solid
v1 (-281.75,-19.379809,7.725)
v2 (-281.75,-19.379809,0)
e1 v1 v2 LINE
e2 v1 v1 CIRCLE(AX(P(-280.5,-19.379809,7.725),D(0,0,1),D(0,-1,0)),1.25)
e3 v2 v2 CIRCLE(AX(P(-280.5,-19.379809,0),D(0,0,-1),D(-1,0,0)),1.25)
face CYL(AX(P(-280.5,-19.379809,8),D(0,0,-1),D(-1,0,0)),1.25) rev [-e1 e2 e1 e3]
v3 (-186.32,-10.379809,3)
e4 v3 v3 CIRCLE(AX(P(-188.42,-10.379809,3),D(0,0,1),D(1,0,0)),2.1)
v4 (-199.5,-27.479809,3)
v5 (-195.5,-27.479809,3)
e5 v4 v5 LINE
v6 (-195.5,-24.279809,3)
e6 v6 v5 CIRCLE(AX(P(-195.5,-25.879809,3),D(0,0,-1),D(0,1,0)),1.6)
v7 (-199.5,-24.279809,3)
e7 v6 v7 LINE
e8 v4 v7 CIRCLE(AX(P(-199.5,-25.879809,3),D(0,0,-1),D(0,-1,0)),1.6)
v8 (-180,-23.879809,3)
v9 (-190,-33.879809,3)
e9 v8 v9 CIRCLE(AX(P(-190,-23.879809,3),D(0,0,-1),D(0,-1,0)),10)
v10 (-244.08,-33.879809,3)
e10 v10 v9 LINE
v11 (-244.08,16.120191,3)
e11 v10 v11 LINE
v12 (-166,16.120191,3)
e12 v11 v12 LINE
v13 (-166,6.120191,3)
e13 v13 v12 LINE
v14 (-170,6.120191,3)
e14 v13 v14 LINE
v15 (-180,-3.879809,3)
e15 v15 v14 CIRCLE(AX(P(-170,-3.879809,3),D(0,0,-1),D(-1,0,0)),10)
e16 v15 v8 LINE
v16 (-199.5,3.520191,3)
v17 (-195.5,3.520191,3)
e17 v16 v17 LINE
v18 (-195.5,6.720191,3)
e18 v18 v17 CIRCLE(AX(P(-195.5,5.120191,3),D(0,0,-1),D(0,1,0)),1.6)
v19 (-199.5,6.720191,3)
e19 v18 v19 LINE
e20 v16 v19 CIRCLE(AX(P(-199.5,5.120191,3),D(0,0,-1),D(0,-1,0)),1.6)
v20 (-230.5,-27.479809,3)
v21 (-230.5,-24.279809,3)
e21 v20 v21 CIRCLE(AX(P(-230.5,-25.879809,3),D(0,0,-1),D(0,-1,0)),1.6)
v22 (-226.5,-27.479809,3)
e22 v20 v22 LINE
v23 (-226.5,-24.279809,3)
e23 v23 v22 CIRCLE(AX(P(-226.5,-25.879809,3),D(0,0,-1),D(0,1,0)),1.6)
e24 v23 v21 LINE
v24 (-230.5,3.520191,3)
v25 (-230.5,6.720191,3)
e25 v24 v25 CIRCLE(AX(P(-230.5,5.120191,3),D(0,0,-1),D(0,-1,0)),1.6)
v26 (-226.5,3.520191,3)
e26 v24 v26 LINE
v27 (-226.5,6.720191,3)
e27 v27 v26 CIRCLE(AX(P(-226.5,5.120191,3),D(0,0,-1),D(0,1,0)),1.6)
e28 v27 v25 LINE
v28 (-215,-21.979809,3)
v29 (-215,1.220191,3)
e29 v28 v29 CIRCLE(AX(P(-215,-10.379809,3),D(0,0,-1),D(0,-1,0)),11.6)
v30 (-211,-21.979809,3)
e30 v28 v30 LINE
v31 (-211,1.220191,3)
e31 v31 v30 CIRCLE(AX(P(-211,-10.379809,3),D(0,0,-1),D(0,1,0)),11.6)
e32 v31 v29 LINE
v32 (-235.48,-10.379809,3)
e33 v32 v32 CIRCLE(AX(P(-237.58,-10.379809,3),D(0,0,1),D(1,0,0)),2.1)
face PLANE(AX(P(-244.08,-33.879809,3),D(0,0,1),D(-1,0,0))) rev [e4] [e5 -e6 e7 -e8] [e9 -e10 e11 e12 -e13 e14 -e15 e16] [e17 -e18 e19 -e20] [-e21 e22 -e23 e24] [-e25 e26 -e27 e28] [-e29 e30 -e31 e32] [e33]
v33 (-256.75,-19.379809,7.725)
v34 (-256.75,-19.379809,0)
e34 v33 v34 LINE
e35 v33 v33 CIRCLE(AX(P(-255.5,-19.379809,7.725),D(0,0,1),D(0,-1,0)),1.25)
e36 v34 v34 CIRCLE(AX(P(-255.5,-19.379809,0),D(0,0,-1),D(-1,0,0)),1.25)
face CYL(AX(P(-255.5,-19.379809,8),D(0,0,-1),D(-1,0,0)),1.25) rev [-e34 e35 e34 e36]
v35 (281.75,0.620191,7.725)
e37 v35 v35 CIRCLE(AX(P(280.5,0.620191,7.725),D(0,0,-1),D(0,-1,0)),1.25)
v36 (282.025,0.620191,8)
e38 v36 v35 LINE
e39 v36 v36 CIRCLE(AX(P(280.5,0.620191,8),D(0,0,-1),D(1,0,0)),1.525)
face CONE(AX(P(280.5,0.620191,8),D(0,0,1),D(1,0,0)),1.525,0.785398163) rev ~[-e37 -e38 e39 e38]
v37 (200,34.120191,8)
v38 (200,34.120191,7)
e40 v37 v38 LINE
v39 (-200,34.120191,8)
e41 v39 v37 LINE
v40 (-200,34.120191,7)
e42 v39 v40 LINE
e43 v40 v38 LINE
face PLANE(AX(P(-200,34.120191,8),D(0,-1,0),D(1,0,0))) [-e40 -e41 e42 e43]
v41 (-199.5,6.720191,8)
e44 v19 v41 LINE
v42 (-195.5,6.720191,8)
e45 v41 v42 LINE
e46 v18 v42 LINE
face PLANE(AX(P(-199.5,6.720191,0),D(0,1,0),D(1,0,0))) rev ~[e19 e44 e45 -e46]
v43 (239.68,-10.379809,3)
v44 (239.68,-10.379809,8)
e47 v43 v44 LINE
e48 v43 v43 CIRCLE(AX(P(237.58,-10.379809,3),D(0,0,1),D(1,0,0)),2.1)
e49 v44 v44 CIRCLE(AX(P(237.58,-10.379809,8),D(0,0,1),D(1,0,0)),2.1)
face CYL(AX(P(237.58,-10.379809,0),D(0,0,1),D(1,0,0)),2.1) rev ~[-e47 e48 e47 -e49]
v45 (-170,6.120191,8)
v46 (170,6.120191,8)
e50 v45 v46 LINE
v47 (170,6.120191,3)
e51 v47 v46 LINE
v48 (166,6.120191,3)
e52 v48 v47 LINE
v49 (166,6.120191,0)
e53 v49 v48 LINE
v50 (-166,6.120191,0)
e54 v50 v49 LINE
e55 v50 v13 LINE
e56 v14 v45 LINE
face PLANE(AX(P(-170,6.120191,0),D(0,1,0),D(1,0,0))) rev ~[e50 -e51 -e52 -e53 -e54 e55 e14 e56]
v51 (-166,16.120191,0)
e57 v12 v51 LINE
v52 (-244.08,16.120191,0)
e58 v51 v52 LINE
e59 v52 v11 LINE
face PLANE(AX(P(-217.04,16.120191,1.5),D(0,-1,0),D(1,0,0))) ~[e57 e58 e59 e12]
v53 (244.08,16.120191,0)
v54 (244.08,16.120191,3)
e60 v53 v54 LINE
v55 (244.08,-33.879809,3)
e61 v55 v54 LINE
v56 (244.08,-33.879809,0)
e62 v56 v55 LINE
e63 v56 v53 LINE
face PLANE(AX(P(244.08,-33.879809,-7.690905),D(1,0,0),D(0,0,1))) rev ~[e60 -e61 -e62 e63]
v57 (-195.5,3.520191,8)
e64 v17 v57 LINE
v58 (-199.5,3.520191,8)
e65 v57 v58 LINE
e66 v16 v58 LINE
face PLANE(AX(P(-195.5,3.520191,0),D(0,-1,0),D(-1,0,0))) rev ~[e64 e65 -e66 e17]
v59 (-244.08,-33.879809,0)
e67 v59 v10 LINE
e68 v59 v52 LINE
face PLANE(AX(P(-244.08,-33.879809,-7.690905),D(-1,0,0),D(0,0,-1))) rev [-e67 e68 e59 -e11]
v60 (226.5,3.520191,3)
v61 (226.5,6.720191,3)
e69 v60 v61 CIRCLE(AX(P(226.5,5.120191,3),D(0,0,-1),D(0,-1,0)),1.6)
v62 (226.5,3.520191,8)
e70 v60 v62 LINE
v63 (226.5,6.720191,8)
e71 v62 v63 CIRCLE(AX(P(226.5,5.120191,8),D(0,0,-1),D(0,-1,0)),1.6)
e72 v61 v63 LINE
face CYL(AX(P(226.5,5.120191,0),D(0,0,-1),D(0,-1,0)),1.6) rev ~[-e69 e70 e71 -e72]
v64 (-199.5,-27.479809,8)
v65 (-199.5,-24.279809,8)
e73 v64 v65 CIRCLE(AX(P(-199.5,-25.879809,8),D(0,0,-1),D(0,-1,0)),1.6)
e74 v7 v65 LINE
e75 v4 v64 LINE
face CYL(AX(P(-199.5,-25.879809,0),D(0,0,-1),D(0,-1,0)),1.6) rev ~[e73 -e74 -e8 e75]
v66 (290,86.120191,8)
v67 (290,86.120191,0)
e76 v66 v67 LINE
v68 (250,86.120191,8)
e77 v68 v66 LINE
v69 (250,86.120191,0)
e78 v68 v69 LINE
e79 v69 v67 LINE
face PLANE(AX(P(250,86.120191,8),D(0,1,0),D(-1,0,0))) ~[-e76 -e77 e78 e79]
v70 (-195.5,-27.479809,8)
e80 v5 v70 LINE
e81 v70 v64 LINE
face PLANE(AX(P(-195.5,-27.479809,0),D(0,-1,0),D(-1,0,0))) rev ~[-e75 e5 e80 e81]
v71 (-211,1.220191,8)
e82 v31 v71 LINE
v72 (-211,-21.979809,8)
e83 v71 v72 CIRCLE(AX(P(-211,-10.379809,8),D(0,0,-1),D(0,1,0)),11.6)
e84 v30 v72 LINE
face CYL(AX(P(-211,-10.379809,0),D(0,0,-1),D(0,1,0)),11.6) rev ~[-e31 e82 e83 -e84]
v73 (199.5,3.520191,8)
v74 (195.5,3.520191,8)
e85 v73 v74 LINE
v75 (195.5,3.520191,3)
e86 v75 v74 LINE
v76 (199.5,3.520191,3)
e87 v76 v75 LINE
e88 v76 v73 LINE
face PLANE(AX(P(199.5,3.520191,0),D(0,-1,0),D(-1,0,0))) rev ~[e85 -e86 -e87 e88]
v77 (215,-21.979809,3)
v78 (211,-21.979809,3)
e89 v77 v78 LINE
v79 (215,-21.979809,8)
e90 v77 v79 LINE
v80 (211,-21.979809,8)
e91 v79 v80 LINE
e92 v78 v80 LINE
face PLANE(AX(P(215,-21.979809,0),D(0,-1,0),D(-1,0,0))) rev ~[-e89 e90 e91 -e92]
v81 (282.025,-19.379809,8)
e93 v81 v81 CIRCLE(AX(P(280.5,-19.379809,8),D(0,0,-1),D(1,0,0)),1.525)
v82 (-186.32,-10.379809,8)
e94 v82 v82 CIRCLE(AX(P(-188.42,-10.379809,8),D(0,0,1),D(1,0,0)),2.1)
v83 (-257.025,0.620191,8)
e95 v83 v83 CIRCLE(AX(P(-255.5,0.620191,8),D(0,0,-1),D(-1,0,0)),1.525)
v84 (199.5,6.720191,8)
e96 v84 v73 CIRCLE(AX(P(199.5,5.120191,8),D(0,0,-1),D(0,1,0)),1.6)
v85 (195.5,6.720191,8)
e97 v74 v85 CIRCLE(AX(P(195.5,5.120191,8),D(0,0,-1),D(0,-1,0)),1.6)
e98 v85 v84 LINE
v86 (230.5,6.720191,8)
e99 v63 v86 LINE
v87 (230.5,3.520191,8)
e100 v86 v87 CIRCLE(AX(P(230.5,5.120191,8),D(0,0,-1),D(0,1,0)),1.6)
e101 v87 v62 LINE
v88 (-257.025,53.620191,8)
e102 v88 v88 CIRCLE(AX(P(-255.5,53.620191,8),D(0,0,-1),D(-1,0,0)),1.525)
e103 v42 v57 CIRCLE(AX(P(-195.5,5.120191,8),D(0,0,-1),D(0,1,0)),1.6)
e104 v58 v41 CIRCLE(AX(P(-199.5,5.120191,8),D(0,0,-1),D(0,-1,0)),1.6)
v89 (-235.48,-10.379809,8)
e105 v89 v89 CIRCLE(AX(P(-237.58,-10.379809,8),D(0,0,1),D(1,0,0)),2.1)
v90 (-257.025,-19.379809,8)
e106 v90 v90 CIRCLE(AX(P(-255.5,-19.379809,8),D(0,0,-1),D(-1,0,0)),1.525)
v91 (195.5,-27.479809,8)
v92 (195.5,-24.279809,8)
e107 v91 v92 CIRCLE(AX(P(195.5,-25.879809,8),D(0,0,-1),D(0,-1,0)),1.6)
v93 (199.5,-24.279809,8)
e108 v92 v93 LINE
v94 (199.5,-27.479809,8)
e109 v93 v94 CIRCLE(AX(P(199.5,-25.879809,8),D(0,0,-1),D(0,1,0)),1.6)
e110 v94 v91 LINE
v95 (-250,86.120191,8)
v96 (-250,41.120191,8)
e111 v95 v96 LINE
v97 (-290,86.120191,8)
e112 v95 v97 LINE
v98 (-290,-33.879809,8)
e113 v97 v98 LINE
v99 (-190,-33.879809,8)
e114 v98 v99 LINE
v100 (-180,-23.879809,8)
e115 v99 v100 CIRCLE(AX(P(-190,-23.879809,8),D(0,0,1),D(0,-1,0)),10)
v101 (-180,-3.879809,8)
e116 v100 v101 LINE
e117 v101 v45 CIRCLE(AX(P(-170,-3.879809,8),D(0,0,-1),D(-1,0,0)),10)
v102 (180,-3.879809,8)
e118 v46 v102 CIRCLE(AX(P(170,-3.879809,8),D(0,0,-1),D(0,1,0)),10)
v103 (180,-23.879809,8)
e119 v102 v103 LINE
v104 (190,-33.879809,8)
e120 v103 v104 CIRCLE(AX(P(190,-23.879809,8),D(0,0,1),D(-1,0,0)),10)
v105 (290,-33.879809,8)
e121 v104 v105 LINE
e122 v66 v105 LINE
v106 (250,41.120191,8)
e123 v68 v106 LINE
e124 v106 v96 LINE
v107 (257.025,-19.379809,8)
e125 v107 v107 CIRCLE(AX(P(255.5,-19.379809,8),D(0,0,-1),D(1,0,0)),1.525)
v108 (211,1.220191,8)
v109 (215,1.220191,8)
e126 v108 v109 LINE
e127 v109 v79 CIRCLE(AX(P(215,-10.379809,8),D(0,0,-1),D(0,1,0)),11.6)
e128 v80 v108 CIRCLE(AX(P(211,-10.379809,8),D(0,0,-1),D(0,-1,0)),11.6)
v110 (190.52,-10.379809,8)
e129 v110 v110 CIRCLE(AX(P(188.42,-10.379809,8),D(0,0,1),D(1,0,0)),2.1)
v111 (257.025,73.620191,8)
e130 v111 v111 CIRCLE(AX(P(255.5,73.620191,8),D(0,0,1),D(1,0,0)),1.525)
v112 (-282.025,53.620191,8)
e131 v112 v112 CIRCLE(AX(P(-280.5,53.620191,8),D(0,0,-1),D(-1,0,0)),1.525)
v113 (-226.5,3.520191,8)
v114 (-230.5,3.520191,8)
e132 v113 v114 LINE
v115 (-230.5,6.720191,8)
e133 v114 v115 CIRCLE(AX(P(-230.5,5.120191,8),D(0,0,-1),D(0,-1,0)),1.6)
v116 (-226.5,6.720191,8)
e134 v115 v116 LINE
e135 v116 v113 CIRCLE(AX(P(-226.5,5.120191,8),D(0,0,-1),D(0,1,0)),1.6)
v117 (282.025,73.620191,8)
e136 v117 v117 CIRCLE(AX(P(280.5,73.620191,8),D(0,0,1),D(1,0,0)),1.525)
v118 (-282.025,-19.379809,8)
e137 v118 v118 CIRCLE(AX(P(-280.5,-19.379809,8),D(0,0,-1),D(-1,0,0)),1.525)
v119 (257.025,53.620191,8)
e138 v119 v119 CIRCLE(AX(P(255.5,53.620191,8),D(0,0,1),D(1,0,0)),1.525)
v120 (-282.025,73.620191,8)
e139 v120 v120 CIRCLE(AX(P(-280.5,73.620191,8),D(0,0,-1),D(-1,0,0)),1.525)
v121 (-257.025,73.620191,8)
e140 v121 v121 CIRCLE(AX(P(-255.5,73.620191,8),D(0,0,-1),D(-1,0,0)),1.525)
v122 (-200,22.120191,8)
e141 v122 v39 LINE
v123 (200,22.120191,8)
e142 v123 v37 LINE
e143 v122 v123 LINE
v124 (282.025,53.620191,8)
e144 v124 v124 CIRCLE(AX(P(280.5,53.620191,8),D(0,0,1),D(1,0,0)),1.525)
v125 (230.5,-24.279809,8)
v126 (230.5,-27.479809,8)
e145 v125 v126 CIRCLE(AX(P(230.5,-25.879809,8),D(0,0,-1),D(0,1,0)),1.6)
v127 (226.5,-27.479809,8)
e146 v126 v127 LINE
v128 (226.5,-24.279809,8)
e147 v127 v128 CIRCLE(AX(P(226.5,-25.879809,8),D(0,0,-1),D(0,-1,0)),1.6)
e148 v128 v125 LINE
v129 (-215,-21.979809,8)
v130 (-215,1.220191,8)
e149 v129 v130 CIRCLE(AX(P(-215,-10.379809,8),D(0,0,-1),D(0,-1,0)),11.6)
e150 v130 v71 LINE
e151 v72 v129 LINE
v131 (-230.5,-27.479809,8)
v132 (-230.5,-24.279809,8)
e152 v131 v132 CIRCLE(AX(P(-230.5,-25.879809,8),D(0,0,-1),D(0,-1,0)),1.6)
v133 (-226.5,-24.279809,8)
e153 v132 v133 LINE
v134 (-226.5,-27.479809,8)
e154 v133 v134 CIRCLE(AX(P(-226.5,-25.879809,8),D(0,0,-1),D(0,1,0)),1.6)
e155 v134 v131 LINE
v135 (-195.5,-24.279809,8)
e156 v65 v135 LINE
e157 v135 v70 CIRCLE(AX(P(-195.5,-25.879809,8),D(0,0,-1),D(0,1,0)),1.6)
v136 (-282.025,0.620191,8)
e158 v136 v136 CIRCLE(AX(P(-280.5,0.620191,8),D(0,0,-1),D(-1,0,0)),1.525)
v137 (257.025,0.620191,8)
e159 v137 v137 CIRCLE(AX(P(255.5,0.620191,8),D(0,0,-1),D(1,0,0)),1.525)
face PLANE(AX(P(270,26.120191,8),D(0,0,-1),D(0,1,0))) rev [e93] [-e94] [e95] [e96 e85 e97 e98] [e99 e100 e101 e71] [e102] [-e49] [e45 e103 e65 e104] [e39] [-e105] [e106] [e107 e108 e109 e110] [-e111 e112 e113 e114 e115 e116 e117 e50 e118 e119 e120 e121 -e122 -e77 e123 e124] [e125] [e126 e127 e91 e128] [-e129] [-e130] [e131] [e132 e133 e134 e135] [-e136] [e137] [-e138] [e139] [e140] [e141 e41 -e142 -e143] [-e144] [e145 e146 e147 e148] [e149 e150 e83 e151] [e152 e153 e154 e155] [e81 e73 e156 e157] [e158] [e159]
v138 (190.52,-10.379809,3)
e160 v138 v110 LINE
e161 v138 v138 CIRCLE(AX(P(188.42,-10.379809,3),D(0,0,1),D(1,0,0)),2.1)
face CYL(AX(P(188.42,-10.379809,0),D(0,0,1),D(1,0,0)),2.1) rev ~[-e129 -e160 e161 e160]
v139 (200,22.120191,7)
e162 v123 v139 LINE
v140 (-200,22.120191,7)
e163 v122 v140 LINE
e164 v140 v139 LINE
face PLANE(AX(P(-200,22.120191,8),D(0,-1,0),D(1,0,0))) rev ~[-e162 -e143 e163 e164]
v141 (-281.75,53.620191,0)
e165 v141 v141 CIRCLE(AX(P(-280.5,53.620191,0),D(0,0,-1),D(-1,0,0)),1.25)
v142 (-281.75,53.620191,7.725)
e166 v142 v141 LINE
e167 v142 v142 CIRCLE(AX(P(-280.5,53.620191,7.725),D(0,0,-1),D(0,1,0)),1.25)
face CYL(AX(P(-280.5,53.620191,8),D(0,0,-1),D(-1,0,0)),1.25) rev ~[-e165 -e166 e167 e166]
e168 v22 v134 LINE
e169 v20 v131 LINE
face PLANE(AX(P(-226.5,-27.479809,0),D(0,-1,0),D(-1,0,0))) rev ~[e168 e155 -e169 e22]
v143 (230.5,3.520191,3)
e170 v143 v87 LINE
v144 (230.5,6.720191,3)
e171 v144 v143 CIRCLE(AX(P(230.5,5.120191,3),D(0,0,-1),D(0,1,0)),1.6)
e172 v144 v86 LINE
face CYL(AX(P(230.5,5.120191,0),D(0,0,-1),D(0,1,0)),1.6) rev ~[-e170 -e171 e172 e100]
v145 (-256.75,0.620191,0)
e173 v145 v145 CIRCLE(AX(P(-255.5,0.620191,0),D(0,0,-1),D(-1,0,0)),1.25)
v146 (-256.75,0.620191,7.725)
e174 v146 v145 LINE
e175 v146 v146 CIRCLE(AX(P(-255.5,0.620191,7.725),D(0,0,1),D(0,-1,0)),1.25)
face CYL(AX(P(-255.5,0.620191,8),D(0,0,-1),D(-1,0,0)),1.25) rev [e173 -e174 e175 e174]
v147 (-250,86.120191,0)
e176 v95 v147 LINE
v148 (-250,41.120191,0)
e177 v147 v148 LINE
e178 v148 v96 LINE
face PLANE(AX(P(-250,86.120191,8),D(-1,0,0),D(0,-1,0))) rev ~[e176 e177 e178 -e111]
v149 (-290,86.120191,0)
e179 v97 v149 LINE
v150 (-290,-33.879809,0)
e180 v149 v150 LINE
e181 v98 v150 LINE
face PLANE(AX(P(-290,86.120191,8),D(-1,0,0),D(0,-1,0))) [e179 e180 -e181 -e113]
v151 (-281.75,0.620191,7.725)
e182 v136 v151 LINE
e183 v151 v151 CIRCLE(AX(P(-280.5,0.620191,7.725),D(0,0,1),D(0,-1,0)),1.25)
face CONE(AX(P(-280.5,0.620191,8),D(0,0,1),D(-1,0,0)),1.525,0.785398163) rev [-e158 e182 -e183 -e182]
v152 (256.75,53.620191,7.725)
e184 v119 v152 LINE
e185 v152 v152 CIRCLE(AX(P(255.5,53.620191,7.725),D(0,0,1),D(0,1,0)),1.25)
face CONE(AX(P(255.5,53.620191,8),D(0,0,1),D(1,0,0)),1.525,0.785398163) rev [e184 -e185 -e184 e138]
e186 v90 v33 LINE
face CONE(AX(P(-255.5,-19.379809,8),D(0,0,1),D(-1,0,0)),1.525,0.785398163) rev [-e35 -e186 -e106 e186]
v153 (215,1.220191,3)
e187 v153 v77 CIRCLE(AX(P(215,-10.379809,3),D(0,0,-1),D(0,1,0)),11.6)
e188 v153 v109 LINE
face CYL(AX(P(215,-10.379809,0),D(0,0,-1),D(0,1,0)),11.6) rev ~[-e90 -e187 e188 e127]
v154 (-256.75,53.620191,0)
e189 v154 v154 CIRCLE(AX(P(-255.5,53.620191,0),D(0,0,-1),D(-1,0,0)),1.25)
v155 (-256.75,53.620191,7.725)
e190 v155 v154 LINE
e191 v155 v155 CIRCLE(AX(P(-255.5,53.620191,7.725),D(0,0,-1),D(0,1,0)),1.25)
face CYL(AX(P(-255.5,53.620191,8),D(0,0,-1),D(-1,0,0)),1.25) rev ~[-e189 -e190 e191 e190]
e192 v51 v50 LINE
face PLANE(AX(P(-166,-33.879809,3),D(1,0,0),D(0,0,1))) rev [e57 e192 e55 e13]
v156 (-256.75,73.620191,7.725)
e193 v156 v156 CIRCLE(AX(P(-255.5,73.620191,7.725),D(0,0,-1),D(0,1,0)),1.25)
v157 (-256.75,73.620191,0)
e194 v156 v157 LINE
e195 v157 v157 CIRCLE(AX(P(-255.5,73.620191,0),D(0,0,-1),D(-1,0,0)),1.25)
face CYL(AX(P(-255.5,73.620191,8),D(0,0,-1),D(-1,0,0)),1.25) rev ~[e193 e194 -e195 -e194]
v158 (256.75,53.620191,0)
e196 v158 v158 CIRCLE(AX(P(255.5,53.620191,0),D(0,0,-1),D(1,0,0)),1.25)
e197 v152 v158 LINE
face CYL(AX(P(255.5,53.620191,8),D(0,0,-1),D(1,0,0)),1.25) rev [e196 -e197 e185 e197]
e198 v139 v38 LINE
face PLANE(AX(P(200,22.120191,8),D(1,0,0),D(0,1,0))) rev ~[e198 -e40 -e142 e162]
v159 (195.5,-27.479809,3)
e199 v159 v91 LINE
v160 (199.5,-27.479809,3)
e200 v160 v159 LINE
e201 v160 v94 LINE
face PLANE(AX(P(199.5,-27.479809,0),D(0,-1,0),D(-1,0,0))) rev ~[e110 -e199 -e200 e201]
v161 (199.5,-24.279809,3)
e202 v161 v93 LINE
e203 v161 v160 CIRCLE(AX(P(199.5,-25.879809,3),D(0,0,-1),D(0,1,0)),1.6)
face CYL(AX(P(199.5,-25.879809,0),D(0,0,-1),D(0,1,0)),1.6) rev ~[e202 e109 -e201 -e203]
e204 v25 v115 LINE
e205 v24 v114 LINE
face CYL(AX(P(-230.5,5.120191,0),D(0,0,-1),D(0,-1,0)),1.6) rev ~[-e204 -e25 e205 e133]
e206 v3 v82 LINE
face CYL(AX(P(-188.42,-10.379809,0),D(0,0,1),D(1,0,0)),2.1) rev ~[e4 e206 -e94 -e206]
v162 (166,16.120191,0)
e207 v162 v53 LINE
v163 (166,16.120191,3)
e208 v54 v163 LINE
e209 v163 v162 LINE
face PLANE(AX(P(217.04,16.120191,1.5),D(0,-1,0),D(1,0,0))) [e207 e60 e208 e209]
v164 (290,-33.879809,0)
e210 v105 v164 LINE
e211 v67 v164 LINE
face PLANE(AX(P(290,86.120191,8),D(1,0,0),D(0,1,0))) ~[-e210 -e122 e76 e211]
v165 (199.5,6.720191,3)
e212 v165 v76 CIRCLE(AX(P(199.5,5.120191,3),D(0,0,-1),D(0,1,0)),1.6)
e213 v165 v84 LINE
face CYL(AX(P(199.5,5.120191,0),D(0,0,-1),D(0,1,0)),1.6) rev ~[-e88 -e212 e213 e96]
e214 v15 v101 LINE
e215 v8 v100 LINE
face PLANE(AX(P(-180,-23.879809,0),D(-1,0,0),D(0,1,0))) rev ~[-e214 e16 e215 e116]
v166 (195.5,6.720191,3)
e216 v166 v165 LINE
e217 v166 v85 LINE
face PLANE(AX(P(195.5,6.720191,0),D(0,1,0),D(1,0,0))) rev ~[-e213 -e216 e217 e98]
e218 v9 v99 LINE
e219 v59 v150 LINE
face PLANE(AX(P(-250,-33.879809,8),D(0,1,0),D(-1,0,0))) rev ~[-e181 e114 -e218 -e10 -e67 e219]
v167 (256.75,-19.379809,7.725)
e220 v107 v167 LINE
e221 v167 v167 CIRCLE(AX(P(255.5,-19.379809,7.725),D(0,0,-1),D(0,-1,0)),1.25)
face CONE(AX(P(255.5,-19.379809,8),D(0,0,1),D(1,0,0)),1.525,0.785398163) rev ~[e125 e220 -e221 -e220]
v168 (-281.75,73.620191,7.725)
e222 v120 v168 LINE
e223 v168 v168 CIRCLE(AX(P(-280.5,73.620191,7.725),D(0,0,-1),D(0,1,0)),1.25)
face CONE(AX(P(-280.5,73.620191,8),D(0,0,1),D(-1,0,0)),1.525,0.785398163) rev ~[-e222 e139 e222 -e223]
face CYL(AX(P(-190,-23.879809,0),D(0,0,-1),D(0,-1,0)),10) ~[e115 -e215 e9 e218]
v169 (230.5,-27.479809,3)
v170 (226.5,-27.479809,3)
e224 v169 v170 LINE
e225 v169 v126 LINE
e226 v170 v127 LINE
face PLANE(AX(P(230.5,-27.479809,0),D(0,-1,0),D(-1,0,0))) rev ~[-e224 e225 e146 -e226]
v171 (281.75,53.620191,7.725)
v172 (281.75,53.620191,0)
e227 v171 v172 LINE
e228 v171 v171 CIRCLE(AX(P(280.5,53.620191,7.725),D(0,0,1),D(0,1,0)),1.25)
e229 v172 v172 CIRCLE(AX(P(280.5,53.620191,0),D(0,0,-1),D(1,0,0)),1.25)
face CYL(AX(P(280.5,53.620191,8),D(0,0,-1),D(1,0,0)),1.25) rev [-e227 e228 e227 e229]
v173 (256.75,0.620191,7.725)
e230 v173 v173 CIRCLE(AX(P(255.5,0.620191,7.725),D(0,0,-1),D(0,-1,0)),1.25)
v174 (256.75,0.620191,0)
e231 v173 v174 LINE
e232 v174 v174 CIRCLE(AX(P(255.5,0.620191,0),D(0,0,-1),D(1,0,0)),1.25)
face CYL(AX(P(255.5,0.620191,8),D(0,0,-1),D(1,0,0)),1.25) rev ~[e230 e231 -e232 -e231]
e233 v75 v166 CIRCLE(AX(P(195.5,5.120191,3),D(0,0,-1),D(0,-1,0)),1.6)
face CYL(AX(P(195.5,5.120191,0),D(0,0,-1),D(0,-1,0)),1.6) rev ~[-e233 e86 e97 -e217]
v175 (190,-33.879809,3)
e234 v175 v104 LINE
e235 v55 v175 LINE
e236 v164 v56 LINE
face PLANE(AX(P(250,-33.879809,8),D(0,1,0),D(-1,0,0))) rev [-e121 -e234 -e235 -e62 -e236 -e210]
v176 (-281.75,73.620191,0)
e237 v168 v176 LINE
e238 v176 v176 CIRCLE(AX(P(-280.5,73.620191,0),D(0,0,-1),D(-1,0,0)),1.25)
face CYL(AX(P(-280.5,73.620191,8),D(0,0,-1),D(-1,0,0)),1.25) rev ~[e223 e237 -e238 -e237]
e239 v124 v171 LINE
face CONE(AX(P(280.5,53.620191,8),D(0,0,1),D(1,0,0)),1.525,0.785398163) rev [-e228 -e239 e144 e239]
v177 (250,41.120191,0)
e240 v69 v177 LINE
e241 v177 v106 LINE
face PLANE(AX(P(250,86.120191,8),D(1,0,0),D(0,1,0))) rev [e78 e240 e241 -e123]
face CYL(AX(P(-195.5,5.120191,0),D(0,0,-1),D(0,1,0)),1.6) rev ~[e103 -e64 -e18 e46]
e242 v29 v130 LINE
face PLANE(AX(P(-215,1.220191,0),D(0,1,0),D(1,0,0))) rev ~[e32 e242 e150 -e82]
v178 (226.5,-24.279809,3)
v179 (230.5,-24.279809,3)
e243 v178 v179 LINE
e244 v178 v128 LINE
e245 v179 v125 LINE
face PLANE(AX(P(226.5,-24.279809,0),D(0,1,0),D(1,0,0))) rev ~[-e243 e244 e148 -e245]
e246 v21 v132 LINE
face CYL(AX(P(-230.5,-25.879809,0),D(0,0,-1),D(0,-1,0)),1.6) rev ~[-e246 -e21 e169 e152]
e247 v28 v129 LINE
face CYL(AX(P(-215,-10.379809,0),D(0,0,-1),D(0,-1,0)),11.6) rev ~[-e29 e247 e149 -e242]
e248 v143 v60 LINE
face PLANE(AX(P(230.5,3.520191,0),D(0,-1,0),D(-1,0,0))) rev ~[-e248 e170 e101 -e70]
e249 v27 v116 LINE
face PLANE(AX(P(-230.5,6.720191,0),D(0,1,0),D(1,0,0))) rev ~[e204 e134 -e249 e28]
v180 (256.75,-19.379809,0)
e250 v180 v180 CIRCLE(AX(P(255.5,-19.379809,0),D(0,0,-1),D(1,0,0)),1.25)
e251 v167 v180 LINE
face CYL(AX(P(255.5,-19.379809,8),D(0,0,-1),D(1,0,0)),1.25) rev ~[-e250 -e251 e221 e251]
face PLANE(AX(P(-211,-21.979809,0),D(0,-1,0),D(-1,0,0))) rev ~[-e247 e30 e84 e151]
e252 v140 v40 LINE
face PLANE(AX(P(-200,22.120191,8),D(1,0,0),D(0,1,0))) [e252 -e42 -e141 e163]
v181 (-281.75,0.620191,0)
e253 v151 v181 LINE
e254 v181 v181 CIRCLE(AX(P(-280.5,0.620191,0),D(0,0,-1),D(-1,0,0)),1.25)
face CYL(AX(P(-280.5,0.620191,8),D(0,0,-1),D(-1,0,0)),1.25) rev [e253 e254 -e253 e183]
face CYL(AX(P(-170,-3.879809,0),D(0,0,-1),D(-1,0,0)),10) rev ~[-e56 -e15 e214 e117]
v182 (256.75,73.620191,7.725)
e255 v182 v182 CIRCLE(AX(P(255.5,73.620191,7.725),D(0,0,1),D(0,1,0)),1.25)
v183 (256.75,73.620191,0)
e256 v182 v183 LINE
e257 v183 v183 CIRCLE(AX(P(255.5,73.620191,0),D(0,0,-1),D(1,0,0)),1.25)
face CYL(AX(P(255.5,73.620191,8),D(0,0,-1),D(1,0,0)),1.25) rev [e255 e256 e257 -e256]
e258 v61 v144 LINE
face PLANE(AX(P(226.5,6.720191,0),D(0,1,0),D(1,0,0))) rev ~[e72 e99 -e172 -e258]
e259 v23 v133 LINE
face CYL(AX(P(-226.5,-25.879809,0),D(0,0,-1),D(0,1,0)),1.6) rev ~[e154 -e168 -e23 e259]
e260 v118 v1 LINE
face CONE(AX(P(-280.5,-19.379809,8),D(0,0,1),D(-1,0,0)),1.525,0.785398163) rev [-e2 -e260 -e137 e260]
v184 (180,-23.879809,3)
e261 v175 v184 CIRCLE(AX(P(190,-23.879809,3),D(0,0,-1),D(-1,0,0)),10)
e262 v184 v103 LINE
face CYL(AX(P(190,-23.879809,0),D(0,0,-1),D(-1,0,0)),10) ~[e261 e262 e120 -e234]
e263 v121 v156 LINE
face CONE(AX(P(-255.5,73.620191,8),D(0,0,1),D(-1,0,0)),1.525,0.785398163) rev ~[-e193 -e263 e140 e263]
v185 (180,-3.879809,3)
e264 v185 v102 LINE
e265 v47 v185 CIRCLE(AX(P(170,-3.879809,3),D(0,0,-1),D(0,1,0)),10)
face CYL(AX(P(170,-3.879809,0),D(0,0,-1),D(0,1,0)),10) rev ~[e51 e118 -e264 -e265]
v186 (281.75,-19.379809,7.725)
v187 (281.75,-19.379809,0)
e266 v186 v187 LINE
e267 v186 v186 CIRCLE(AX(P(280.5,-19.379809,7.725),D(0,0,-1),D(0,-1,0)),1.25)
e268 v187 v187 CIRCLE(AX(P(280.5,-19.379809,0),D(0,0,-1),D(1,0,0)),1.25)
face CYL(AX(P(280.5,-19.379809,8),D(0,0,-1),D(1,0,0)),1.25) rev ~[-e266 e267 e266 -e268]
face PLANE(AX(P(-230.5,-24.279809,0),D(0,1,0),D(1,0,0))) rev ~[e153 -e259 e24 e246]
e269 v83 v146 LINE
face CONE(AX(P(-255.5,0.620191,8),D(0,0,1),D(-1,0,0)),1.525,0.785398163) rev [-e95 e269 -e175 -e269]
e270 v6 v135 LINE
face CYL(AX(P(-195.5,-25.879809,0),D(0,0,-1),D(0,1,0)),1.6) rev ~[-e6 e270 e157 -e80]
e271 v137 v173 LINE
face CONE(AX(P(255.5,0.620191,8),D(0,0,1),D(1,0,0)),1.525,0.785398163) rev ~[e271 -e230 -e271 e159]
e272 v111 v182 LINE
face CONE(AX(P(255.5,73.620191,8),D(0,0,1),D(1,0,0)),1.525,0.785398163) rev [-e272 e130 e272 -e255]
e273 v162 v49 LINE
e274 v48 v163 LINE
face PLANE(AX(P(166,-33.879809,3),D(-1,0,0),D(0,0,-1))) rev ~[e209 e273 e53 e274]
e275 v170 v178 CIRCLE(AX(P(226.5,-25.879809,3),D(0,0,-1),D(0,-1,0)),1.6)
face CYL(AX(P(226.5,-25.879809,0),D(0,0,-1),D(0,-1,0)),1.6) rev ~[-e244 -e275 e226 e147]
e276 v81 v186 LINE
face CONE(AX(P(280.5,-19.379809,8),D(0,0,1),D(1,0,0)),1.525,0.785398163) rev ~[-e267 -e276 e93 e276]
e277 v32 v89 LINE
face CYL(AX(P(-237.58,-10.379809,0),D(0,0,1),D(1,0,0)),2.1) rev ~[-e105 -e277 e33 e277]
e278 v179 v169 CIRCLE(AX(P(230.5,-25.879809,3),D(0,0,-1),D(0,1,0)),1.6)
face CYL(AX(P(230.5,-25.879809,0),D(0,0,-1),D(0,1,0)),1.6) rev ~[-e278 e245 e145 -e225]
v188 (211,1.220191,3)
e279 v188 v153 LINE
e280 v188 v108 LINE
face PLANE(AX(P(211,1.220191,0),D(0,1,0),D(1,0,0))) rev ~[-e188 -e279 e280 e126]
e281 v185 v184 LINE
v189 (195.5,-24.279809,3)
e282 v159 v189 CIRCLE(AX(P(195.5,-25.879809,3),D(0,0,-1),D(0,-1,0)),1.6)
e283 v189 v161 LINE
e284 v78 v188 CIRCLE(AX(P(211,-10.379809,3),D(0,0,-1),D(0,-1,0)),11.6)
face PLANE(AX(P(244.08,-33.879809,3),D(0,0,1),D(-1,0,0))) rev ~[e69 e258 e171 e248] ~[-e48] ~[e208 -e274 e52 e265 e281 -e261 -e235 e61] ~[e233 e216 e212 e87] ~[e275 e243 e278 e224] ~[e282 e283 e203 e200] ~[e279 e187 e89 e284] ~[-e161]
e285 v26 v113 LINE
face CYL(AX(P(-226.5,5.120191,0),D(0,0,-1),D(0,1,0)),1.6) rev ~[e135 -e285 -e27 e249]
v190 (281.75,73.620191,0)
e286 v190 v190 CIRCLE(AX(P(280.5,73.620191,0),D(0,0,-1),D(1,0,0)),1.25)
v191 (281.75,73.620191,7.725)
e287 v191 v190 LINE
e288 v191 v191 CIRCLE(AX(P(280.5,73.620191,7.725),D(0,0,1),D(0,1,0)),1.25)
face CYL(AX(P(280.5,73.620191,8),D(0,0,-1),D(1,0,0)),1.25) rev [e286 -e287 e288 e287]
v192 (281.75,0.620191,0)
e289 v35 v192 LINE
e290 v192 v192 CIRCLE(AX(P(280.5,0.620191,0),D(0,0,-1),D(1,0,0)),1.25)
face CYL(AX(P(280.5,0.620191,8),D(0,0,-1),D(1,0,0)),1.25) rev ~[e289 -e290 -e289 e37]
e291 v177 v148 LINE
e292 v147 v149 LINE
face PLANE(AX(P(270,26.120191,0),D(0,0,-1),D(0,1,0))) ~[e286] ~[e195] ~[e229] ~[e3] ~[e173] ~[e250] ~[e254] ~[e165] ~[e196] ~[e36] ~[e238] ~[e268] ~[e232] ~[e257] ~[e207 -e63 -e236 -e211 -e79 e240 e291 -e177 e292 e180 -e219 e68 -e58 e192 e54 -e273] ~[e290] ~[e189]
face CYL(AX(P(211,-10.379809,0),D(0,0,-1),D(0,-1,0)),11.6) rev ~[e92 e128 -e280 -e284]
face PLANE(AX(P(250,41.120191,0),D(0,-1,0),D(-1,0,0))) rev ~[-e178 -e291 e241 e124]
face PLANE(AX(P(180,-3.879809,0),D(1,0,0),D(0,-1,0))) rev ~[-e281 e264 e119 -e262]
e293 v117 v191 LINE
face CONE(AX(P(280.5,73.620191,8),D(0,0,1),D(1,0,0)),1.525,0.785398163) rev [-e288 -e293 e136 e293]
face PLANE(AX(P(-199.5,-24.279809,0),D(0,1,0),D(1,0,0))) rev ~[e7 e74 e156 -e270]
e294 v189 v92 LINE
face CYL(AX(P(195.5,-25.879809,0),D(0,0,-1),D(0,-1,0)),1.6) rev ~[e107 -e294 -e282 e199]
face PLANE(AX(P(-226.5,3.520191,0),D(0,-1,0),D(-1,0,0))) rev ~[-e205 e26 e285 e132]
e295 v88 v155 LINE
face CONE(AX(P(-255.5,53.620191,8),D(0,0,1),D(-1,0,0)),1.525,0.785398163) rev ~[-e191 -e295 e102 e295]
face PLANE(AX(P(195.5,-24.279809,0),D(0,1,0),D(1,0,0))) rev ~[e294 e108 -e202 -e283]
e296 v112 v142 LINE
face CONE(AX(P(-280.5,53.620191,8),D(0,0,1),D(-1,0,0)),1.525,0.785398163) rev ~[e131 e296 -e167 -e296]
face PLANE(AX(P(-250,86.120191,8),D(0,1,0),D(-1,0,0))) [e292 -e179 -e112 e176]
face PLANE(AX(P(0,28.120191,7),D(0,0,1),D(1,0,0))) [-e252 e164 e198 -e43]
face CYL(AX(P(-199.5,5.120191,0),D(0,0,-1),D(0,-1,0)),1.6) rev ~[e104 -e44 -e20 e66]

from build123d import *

# Parameters (mm, degrees)
BOSS_EXTRUDE1_DEPTH         = 8
SKETCH5_W                   = 120
SKETCH5_H                   = 40
BOSS_EXTRUDE4_DEPTH         = 8
M3_TAPPED_HOLE2_D           = 2.5
M3_TAPPED_HOLE2_CSINK_D     = 3.05
M3_TAPPED_HOLE2_CSINK_ANGLE = 90
SKETCH24_W                  = 400
SKETCH24_H                  = 12
CUT_EXTRUDE4_DEPTH          = 1
M5_TAPPED_HOLE3_D           = 4.2
M5_TAPPED_HOLE3_CSINK_D     = 5.05
M5_TAPPED_HOLE3_CSINK_ANGLE = 90
MIRROR3_COPY_1_D            = 2.5
MIRROR3_COPY_1_CSINK_D      = 3.05
MIRROR3_COPY_1_CSINK_ANGLE  = 90
MIRROR3_COPY_2_D            = 2.5
MIRROR3_COPY_2_CSINK_D      = 3.05
MIRROR3_COPY_2_CSINK_ANGLE  = 90
SKETCH27_W                  = 54.08
SKETCH27_H                  = 3
CUT_EXTRUDE6_DEPTH          = 50


with BuildPart() as part:
    # Sketch1 → Boss-Extrude1 (new body)
    with BuildSketch(Plane.XY):
        with BuildLine():
            Line((-250, -33.879809267), (-240, -33.879809267))
            Line((-240, -33.879809267), (-200, -33.879809267))
            Line((-200, -33.879809267), (-190, -33.879809267))
            ThreePointArc((-190, -33.879809267), (-182.928932188, -30.950877079), (-180, -23.879809267))
            Line((-180, -23.879809267), (-180, -3.879809267))
            ThreePointArc((-180, -3.879809267), (-177.071067812, 3.191258545), (-170, 6.120190733))
            Line((-170, 6.120190733), (-150, 6.120190733))
            Line((-150, 6.120190733), (150, 6.120190733))
            Line((150, 6.120190733), (170, 6.120190733))
            ThreePointArc((170, 6.120190733), (177.071067812, 3.191258545), (180, -3.879809267))
            Line((180, -3.879809267), (180, -23.879809267))
            ThreePointArc((180, -23.879809267), (182.928932188, -30.950877079), (190, -33.879809267))
            Line((190, -33.879809267), (200, -33.879809267))
            Line((200, -33.879809267), (240, -33.879809267))
            Line((240, -33.879809267), (250, -33.879809267))
            Line((250, -33.879809267), (250, 36.120190733))
            Line((250, 36.120190733), (250, 41.120190733))
            Line((250, 41.120190733), (-250, 41.120190733))
            Line((-250, 41.120190733), (-250, 36.120190733))
            Line((-250, 36.120190733), (-250, -23.879809267))
            Line((-250, -23.879809267), (-250, -33.879809267))
        make_face()
        with BuildLine():
            ThreePointArc((-230.5, -27.479809267), (-232.1, -25.879809267), (-230.5, -24.279809267))
            Line((-230.5, -24.279809267), (-226.5, -24.279809267))
            ThreePointArc((-226.5, -24.279809267), (-224.9, -25.879809267), (-226.5, -27.479809267))
            Line((-226.5, -27.479809267), (-230.5, -27.479809267))
        make_face(mode=Mode.SUBTRACT)
        with BuildLine():
            ThreePointArc((-195.5, -24.279809267), (-193.9, -25.879809267), (-195.5, -27.479809267))
            Line((-195.5, -27.479809267), (-199.5, -27.479809267))
            ThreePointArc((-199.5, -27.479809267), (-201.1, -25.879809267), (-199.5, -24.279809267))
            Line((-199.5, -24.279809267), (-195.5, -24.279809267))
        make_face(mode=Mode.SUBTRACT)
        with BuildLine():
            Line((-215, 1.220190733), (-211, 1.220190733))
            ThreePointArc((-211, 1.220190733), (-199.4, -10.379809267), (-211, -21.979809267))
            Line((-211, -21.979809267), (-215, -21.979809267))
            ThreePointArc((-215, -21.979809267), (-226.6, -10.379809267), (-215, 1.220190733))
        make_face(mode=Mode.SUBTRACT)
        with BuildLine():
            ThreePointArc((195.5, -27.479809267), (193.9, -25.879809267), (195.5, -24.279809267))
            Line((195.5, -24.279809267), (199.5, -24.279809267))
            ThreePointArc((199.5, -24.279809267), (201.1, -25.879809267), (199.5, -27.479809267))
            Line((199.5, -27.479809267), (195.5, -27.479809267))
        make_face(mode=Mode.SUBTRACT)
        with BuildLine():
            ThreePointArc((230.5, -24.279809267), (232.1, -25.879809267), (230.5, -27.479809267))
            Line((230.5, -27.479809267), (226.5, -27.479809267))
            ThreePointArc((226.5, -27.479809267), (224.9, -25.879809267), (226.5, -24.279809267))
            Line((226.5, -24.279809267), (230.5, -24.279809267))
        make_face(mode=Mode.SUBTRACT)
        with BuildLine():
            Line((215, -21.979809267), (211, -21.979809267))
            ThreePointArc((211, -21.979809267), (199.4, -10.379809267), (211, 1.220190733))
            Line((211, 1.220190733), (215, 1.220190733))
            ThreePointArc((215, 1.220190733), (226.6, -10.379809267), (215, -21.979809267))
        make_face(mode=Mode.SUBTRACT)
        with BuildLine():
            Line((-226.5, 3.520190733), (-230.5, 3.520190733))
            ThreePointArc((-230.5, 3.520190733), (-232.1, 5.120190733), (-230.5, 6.720190733))
            Line((-230.5, 6.720190733), (-226.5, 6.720190733))
            ThreePointArc((-226.5, 6.720190733), (-224.9, 5.120190733), (-226.5, 3.520190733))
        make_face(mode=Mode.SUBTRACT)
        with BuildLine():
            Line((-199.5, 6.720190733), (-195.5, 6.720190733))
            ThreePointArc((-195.5, 6.720190733), (-193.9, 5.120190733), (-195.5, 3.520190733))
            Line((-195.5, 3.520190733), (-199.5, 3.520190733))
            ThreePointArc((-199.5, 3.520190733), (-201.1, 5.120190733), (-199.5, 6.720190733))
        make_face(mode=Mode.SUBTRACT)
        with BuildLine():
            Line((199.5, 3.520190733), (195.5, 3.520190733))
            ThreePointArc((195.5, 3.520190733), (193.9, 5.120190733), (195.5, 6.720190733))
            Line((195.5, 6.720190733), (199.5, 6.720190733))
            ThreePointArc((199.5, 6.720190733), (201.1, 5.120190733), (199.5, 3.520190733))
        make_face(mode=Mode.SUBTRACT)
        with BuildLine():
            Line((226.5, 6.720190733), (230.5, 6.720190733))
            ThreePointArc((230.5, 6.720190733), (232.1, 5.120190733), (230.5, 3.520190733))
            Line((230.5, 3.520190733), (226.5, 3.520190733))
            ThreePointArc((226.5, 3.520190733), (224.9, 5.120190733), (226.5, 6.720190733))
        make_face(mode=Mode.SUBTRACT)
    extrude(amount=BOSS_EXTRUDE1_DEPTH)

    # Sketch5 → Boss-Extrude4 (add)
    with BuildSketch(Plane(origin=(-195.879809267, 36.120190733, 8), x_dir=(0, -1, 0), z_dir=(0, 0, -1))):
        with Locations((10, 74.120190733)):
            Rectangle(SKETCH5_W, SKETCH5_H)
    boss_extrude4 = extrude(amount=BOSS_EXTRUDE4_DEPTH)

    # M3 Tapped Hole2 (through all)
    with Locations(Plane(origin=(-280.5, 53.620190733, 8), x_dir=(1, 0, 0), z_dir=(0, 0, 1))):
        with Locations((0, 0), (25, 20), (25, 0), (0, 20)):
            m3_tapped_hole2 = CounterSinkHole(M3_TAPPED_HOLE2_D / 2, M3_TAPPED_HOLE2_CSINK_D / 2, counter_sink_angle=M3_TAPPED_HOLE2_CSINK_ANGLE)

    # Mirror1: Boss-Extrude4, M3 Tapped Hole2 across plane
    add(boss_extrude4.mirror(Plane(origin=(0, 0, 0), x_dir=(0, 0, 1), z_dir=(1, 0, 0))))
    add(m3_tapped_hole2.mirror(Plane(origin=(0, 0, 0), x_dir=(0, 0, 1), z_dir=(1, 0, 0))), mode=Mode.SUBTRACT)

    # Sketch24 → Cut-Extrude4 (cut)
    with BuildSketch(Plane.XY.offset(8)):
        with Locations((0, 28.120190733)):
            Rectangle(SKETCH24_W, SKETCH24_H)
    extrude(amount=-CUT_EXTRUDE4_DEPTH, mode=Mode.SUBTRACT)

    # M5 Tapped Hole3 (through all)
    with Locations(Plane(origin=(0, 0, 0), x_dir=(-1, 0, 0), z_dir=(0, 0, -1))):
        with Locations((237.58, -10.379809267), (188.42, -10.379809267), (-188.42, -10.379809267), (-237.58, -10.379809267)):
            CounterSinkHole(M5_TAPPED_HOLE3_D / 2, M5_TAPPED_HOLE3_CSINK_D / 2, counter_sink_angle=M5_TAPPED_HOLE3_CSINK_ANGLE)

    # Mirror2: M3 Tapped Hole2 across plane
    add(m3_tapped_hole2.mirror(Plane(origin=(0, 27.120190733, 0), x_dir=(0, 0, 1), z_dir=(0, -1, 0))), mode=Mode.SUBTRACT)

    # Mirror3 copy 1 (through all)
    with Locations(Plane(origin=(280.5, 0.620190733, 8), x_dir=(-1, 0, 0), z_dir=(0, 0, 1))):
        with Locations((0, 0), (25, 20), (25, 0), (0, 20)):
            CounterSinkHole(MIRROR3_COPY_1_D / 2, MIRROR3_COPY_1_CSINK_D / 2, counter_sink_angle=MIRROR3_COPY_1_CSINK_ANGLE)

    # Mirror3 copy 2 (through all)
    with Locations(Plane(origin=(280.5, 53.620190733, 8), x_dir=(-1, 0, 0), z_dir=(0, 0, 1))):
        with Locations((0, 0), (25, -20), (25, 0), (0, -20)):
            CounterSinkHole(MIRROR3_COPY_2_D / 2, MIRROR3_COPY_2_CSINK_D / 2, counter_sink_angle=MIRROR3_COPY_2_CSINK_ANGLE)

    # Sketch27 → Cut-Extrude6 (cut)
    with BuildSketch(Plane.XZ.offset(33.879809267)):
        with Locations((217.04, 1.5)):
            Rectangle(SKETCH27_W, SKETCH27_H)
        Polygon((166, -7.690904526), (244.08, -7.690904526), (244.08, 0), (190, 0), (190, 3), (166, 3), align=None)
    cut_extrude6 = extrude(amount=-CUT_EXTRUDE6_DEPTH, mode=Mode.SUBTRACT)

    # Mirror4: Cut-Extrude6 across plane
    add(cut_extrude6.mirror(Plane(origin=(0, 0, 0), x_dir=(0, 0, 1), z_dir=(1, 0, 0))), mode=Mode.SUBTRACT)


solid = part.part
